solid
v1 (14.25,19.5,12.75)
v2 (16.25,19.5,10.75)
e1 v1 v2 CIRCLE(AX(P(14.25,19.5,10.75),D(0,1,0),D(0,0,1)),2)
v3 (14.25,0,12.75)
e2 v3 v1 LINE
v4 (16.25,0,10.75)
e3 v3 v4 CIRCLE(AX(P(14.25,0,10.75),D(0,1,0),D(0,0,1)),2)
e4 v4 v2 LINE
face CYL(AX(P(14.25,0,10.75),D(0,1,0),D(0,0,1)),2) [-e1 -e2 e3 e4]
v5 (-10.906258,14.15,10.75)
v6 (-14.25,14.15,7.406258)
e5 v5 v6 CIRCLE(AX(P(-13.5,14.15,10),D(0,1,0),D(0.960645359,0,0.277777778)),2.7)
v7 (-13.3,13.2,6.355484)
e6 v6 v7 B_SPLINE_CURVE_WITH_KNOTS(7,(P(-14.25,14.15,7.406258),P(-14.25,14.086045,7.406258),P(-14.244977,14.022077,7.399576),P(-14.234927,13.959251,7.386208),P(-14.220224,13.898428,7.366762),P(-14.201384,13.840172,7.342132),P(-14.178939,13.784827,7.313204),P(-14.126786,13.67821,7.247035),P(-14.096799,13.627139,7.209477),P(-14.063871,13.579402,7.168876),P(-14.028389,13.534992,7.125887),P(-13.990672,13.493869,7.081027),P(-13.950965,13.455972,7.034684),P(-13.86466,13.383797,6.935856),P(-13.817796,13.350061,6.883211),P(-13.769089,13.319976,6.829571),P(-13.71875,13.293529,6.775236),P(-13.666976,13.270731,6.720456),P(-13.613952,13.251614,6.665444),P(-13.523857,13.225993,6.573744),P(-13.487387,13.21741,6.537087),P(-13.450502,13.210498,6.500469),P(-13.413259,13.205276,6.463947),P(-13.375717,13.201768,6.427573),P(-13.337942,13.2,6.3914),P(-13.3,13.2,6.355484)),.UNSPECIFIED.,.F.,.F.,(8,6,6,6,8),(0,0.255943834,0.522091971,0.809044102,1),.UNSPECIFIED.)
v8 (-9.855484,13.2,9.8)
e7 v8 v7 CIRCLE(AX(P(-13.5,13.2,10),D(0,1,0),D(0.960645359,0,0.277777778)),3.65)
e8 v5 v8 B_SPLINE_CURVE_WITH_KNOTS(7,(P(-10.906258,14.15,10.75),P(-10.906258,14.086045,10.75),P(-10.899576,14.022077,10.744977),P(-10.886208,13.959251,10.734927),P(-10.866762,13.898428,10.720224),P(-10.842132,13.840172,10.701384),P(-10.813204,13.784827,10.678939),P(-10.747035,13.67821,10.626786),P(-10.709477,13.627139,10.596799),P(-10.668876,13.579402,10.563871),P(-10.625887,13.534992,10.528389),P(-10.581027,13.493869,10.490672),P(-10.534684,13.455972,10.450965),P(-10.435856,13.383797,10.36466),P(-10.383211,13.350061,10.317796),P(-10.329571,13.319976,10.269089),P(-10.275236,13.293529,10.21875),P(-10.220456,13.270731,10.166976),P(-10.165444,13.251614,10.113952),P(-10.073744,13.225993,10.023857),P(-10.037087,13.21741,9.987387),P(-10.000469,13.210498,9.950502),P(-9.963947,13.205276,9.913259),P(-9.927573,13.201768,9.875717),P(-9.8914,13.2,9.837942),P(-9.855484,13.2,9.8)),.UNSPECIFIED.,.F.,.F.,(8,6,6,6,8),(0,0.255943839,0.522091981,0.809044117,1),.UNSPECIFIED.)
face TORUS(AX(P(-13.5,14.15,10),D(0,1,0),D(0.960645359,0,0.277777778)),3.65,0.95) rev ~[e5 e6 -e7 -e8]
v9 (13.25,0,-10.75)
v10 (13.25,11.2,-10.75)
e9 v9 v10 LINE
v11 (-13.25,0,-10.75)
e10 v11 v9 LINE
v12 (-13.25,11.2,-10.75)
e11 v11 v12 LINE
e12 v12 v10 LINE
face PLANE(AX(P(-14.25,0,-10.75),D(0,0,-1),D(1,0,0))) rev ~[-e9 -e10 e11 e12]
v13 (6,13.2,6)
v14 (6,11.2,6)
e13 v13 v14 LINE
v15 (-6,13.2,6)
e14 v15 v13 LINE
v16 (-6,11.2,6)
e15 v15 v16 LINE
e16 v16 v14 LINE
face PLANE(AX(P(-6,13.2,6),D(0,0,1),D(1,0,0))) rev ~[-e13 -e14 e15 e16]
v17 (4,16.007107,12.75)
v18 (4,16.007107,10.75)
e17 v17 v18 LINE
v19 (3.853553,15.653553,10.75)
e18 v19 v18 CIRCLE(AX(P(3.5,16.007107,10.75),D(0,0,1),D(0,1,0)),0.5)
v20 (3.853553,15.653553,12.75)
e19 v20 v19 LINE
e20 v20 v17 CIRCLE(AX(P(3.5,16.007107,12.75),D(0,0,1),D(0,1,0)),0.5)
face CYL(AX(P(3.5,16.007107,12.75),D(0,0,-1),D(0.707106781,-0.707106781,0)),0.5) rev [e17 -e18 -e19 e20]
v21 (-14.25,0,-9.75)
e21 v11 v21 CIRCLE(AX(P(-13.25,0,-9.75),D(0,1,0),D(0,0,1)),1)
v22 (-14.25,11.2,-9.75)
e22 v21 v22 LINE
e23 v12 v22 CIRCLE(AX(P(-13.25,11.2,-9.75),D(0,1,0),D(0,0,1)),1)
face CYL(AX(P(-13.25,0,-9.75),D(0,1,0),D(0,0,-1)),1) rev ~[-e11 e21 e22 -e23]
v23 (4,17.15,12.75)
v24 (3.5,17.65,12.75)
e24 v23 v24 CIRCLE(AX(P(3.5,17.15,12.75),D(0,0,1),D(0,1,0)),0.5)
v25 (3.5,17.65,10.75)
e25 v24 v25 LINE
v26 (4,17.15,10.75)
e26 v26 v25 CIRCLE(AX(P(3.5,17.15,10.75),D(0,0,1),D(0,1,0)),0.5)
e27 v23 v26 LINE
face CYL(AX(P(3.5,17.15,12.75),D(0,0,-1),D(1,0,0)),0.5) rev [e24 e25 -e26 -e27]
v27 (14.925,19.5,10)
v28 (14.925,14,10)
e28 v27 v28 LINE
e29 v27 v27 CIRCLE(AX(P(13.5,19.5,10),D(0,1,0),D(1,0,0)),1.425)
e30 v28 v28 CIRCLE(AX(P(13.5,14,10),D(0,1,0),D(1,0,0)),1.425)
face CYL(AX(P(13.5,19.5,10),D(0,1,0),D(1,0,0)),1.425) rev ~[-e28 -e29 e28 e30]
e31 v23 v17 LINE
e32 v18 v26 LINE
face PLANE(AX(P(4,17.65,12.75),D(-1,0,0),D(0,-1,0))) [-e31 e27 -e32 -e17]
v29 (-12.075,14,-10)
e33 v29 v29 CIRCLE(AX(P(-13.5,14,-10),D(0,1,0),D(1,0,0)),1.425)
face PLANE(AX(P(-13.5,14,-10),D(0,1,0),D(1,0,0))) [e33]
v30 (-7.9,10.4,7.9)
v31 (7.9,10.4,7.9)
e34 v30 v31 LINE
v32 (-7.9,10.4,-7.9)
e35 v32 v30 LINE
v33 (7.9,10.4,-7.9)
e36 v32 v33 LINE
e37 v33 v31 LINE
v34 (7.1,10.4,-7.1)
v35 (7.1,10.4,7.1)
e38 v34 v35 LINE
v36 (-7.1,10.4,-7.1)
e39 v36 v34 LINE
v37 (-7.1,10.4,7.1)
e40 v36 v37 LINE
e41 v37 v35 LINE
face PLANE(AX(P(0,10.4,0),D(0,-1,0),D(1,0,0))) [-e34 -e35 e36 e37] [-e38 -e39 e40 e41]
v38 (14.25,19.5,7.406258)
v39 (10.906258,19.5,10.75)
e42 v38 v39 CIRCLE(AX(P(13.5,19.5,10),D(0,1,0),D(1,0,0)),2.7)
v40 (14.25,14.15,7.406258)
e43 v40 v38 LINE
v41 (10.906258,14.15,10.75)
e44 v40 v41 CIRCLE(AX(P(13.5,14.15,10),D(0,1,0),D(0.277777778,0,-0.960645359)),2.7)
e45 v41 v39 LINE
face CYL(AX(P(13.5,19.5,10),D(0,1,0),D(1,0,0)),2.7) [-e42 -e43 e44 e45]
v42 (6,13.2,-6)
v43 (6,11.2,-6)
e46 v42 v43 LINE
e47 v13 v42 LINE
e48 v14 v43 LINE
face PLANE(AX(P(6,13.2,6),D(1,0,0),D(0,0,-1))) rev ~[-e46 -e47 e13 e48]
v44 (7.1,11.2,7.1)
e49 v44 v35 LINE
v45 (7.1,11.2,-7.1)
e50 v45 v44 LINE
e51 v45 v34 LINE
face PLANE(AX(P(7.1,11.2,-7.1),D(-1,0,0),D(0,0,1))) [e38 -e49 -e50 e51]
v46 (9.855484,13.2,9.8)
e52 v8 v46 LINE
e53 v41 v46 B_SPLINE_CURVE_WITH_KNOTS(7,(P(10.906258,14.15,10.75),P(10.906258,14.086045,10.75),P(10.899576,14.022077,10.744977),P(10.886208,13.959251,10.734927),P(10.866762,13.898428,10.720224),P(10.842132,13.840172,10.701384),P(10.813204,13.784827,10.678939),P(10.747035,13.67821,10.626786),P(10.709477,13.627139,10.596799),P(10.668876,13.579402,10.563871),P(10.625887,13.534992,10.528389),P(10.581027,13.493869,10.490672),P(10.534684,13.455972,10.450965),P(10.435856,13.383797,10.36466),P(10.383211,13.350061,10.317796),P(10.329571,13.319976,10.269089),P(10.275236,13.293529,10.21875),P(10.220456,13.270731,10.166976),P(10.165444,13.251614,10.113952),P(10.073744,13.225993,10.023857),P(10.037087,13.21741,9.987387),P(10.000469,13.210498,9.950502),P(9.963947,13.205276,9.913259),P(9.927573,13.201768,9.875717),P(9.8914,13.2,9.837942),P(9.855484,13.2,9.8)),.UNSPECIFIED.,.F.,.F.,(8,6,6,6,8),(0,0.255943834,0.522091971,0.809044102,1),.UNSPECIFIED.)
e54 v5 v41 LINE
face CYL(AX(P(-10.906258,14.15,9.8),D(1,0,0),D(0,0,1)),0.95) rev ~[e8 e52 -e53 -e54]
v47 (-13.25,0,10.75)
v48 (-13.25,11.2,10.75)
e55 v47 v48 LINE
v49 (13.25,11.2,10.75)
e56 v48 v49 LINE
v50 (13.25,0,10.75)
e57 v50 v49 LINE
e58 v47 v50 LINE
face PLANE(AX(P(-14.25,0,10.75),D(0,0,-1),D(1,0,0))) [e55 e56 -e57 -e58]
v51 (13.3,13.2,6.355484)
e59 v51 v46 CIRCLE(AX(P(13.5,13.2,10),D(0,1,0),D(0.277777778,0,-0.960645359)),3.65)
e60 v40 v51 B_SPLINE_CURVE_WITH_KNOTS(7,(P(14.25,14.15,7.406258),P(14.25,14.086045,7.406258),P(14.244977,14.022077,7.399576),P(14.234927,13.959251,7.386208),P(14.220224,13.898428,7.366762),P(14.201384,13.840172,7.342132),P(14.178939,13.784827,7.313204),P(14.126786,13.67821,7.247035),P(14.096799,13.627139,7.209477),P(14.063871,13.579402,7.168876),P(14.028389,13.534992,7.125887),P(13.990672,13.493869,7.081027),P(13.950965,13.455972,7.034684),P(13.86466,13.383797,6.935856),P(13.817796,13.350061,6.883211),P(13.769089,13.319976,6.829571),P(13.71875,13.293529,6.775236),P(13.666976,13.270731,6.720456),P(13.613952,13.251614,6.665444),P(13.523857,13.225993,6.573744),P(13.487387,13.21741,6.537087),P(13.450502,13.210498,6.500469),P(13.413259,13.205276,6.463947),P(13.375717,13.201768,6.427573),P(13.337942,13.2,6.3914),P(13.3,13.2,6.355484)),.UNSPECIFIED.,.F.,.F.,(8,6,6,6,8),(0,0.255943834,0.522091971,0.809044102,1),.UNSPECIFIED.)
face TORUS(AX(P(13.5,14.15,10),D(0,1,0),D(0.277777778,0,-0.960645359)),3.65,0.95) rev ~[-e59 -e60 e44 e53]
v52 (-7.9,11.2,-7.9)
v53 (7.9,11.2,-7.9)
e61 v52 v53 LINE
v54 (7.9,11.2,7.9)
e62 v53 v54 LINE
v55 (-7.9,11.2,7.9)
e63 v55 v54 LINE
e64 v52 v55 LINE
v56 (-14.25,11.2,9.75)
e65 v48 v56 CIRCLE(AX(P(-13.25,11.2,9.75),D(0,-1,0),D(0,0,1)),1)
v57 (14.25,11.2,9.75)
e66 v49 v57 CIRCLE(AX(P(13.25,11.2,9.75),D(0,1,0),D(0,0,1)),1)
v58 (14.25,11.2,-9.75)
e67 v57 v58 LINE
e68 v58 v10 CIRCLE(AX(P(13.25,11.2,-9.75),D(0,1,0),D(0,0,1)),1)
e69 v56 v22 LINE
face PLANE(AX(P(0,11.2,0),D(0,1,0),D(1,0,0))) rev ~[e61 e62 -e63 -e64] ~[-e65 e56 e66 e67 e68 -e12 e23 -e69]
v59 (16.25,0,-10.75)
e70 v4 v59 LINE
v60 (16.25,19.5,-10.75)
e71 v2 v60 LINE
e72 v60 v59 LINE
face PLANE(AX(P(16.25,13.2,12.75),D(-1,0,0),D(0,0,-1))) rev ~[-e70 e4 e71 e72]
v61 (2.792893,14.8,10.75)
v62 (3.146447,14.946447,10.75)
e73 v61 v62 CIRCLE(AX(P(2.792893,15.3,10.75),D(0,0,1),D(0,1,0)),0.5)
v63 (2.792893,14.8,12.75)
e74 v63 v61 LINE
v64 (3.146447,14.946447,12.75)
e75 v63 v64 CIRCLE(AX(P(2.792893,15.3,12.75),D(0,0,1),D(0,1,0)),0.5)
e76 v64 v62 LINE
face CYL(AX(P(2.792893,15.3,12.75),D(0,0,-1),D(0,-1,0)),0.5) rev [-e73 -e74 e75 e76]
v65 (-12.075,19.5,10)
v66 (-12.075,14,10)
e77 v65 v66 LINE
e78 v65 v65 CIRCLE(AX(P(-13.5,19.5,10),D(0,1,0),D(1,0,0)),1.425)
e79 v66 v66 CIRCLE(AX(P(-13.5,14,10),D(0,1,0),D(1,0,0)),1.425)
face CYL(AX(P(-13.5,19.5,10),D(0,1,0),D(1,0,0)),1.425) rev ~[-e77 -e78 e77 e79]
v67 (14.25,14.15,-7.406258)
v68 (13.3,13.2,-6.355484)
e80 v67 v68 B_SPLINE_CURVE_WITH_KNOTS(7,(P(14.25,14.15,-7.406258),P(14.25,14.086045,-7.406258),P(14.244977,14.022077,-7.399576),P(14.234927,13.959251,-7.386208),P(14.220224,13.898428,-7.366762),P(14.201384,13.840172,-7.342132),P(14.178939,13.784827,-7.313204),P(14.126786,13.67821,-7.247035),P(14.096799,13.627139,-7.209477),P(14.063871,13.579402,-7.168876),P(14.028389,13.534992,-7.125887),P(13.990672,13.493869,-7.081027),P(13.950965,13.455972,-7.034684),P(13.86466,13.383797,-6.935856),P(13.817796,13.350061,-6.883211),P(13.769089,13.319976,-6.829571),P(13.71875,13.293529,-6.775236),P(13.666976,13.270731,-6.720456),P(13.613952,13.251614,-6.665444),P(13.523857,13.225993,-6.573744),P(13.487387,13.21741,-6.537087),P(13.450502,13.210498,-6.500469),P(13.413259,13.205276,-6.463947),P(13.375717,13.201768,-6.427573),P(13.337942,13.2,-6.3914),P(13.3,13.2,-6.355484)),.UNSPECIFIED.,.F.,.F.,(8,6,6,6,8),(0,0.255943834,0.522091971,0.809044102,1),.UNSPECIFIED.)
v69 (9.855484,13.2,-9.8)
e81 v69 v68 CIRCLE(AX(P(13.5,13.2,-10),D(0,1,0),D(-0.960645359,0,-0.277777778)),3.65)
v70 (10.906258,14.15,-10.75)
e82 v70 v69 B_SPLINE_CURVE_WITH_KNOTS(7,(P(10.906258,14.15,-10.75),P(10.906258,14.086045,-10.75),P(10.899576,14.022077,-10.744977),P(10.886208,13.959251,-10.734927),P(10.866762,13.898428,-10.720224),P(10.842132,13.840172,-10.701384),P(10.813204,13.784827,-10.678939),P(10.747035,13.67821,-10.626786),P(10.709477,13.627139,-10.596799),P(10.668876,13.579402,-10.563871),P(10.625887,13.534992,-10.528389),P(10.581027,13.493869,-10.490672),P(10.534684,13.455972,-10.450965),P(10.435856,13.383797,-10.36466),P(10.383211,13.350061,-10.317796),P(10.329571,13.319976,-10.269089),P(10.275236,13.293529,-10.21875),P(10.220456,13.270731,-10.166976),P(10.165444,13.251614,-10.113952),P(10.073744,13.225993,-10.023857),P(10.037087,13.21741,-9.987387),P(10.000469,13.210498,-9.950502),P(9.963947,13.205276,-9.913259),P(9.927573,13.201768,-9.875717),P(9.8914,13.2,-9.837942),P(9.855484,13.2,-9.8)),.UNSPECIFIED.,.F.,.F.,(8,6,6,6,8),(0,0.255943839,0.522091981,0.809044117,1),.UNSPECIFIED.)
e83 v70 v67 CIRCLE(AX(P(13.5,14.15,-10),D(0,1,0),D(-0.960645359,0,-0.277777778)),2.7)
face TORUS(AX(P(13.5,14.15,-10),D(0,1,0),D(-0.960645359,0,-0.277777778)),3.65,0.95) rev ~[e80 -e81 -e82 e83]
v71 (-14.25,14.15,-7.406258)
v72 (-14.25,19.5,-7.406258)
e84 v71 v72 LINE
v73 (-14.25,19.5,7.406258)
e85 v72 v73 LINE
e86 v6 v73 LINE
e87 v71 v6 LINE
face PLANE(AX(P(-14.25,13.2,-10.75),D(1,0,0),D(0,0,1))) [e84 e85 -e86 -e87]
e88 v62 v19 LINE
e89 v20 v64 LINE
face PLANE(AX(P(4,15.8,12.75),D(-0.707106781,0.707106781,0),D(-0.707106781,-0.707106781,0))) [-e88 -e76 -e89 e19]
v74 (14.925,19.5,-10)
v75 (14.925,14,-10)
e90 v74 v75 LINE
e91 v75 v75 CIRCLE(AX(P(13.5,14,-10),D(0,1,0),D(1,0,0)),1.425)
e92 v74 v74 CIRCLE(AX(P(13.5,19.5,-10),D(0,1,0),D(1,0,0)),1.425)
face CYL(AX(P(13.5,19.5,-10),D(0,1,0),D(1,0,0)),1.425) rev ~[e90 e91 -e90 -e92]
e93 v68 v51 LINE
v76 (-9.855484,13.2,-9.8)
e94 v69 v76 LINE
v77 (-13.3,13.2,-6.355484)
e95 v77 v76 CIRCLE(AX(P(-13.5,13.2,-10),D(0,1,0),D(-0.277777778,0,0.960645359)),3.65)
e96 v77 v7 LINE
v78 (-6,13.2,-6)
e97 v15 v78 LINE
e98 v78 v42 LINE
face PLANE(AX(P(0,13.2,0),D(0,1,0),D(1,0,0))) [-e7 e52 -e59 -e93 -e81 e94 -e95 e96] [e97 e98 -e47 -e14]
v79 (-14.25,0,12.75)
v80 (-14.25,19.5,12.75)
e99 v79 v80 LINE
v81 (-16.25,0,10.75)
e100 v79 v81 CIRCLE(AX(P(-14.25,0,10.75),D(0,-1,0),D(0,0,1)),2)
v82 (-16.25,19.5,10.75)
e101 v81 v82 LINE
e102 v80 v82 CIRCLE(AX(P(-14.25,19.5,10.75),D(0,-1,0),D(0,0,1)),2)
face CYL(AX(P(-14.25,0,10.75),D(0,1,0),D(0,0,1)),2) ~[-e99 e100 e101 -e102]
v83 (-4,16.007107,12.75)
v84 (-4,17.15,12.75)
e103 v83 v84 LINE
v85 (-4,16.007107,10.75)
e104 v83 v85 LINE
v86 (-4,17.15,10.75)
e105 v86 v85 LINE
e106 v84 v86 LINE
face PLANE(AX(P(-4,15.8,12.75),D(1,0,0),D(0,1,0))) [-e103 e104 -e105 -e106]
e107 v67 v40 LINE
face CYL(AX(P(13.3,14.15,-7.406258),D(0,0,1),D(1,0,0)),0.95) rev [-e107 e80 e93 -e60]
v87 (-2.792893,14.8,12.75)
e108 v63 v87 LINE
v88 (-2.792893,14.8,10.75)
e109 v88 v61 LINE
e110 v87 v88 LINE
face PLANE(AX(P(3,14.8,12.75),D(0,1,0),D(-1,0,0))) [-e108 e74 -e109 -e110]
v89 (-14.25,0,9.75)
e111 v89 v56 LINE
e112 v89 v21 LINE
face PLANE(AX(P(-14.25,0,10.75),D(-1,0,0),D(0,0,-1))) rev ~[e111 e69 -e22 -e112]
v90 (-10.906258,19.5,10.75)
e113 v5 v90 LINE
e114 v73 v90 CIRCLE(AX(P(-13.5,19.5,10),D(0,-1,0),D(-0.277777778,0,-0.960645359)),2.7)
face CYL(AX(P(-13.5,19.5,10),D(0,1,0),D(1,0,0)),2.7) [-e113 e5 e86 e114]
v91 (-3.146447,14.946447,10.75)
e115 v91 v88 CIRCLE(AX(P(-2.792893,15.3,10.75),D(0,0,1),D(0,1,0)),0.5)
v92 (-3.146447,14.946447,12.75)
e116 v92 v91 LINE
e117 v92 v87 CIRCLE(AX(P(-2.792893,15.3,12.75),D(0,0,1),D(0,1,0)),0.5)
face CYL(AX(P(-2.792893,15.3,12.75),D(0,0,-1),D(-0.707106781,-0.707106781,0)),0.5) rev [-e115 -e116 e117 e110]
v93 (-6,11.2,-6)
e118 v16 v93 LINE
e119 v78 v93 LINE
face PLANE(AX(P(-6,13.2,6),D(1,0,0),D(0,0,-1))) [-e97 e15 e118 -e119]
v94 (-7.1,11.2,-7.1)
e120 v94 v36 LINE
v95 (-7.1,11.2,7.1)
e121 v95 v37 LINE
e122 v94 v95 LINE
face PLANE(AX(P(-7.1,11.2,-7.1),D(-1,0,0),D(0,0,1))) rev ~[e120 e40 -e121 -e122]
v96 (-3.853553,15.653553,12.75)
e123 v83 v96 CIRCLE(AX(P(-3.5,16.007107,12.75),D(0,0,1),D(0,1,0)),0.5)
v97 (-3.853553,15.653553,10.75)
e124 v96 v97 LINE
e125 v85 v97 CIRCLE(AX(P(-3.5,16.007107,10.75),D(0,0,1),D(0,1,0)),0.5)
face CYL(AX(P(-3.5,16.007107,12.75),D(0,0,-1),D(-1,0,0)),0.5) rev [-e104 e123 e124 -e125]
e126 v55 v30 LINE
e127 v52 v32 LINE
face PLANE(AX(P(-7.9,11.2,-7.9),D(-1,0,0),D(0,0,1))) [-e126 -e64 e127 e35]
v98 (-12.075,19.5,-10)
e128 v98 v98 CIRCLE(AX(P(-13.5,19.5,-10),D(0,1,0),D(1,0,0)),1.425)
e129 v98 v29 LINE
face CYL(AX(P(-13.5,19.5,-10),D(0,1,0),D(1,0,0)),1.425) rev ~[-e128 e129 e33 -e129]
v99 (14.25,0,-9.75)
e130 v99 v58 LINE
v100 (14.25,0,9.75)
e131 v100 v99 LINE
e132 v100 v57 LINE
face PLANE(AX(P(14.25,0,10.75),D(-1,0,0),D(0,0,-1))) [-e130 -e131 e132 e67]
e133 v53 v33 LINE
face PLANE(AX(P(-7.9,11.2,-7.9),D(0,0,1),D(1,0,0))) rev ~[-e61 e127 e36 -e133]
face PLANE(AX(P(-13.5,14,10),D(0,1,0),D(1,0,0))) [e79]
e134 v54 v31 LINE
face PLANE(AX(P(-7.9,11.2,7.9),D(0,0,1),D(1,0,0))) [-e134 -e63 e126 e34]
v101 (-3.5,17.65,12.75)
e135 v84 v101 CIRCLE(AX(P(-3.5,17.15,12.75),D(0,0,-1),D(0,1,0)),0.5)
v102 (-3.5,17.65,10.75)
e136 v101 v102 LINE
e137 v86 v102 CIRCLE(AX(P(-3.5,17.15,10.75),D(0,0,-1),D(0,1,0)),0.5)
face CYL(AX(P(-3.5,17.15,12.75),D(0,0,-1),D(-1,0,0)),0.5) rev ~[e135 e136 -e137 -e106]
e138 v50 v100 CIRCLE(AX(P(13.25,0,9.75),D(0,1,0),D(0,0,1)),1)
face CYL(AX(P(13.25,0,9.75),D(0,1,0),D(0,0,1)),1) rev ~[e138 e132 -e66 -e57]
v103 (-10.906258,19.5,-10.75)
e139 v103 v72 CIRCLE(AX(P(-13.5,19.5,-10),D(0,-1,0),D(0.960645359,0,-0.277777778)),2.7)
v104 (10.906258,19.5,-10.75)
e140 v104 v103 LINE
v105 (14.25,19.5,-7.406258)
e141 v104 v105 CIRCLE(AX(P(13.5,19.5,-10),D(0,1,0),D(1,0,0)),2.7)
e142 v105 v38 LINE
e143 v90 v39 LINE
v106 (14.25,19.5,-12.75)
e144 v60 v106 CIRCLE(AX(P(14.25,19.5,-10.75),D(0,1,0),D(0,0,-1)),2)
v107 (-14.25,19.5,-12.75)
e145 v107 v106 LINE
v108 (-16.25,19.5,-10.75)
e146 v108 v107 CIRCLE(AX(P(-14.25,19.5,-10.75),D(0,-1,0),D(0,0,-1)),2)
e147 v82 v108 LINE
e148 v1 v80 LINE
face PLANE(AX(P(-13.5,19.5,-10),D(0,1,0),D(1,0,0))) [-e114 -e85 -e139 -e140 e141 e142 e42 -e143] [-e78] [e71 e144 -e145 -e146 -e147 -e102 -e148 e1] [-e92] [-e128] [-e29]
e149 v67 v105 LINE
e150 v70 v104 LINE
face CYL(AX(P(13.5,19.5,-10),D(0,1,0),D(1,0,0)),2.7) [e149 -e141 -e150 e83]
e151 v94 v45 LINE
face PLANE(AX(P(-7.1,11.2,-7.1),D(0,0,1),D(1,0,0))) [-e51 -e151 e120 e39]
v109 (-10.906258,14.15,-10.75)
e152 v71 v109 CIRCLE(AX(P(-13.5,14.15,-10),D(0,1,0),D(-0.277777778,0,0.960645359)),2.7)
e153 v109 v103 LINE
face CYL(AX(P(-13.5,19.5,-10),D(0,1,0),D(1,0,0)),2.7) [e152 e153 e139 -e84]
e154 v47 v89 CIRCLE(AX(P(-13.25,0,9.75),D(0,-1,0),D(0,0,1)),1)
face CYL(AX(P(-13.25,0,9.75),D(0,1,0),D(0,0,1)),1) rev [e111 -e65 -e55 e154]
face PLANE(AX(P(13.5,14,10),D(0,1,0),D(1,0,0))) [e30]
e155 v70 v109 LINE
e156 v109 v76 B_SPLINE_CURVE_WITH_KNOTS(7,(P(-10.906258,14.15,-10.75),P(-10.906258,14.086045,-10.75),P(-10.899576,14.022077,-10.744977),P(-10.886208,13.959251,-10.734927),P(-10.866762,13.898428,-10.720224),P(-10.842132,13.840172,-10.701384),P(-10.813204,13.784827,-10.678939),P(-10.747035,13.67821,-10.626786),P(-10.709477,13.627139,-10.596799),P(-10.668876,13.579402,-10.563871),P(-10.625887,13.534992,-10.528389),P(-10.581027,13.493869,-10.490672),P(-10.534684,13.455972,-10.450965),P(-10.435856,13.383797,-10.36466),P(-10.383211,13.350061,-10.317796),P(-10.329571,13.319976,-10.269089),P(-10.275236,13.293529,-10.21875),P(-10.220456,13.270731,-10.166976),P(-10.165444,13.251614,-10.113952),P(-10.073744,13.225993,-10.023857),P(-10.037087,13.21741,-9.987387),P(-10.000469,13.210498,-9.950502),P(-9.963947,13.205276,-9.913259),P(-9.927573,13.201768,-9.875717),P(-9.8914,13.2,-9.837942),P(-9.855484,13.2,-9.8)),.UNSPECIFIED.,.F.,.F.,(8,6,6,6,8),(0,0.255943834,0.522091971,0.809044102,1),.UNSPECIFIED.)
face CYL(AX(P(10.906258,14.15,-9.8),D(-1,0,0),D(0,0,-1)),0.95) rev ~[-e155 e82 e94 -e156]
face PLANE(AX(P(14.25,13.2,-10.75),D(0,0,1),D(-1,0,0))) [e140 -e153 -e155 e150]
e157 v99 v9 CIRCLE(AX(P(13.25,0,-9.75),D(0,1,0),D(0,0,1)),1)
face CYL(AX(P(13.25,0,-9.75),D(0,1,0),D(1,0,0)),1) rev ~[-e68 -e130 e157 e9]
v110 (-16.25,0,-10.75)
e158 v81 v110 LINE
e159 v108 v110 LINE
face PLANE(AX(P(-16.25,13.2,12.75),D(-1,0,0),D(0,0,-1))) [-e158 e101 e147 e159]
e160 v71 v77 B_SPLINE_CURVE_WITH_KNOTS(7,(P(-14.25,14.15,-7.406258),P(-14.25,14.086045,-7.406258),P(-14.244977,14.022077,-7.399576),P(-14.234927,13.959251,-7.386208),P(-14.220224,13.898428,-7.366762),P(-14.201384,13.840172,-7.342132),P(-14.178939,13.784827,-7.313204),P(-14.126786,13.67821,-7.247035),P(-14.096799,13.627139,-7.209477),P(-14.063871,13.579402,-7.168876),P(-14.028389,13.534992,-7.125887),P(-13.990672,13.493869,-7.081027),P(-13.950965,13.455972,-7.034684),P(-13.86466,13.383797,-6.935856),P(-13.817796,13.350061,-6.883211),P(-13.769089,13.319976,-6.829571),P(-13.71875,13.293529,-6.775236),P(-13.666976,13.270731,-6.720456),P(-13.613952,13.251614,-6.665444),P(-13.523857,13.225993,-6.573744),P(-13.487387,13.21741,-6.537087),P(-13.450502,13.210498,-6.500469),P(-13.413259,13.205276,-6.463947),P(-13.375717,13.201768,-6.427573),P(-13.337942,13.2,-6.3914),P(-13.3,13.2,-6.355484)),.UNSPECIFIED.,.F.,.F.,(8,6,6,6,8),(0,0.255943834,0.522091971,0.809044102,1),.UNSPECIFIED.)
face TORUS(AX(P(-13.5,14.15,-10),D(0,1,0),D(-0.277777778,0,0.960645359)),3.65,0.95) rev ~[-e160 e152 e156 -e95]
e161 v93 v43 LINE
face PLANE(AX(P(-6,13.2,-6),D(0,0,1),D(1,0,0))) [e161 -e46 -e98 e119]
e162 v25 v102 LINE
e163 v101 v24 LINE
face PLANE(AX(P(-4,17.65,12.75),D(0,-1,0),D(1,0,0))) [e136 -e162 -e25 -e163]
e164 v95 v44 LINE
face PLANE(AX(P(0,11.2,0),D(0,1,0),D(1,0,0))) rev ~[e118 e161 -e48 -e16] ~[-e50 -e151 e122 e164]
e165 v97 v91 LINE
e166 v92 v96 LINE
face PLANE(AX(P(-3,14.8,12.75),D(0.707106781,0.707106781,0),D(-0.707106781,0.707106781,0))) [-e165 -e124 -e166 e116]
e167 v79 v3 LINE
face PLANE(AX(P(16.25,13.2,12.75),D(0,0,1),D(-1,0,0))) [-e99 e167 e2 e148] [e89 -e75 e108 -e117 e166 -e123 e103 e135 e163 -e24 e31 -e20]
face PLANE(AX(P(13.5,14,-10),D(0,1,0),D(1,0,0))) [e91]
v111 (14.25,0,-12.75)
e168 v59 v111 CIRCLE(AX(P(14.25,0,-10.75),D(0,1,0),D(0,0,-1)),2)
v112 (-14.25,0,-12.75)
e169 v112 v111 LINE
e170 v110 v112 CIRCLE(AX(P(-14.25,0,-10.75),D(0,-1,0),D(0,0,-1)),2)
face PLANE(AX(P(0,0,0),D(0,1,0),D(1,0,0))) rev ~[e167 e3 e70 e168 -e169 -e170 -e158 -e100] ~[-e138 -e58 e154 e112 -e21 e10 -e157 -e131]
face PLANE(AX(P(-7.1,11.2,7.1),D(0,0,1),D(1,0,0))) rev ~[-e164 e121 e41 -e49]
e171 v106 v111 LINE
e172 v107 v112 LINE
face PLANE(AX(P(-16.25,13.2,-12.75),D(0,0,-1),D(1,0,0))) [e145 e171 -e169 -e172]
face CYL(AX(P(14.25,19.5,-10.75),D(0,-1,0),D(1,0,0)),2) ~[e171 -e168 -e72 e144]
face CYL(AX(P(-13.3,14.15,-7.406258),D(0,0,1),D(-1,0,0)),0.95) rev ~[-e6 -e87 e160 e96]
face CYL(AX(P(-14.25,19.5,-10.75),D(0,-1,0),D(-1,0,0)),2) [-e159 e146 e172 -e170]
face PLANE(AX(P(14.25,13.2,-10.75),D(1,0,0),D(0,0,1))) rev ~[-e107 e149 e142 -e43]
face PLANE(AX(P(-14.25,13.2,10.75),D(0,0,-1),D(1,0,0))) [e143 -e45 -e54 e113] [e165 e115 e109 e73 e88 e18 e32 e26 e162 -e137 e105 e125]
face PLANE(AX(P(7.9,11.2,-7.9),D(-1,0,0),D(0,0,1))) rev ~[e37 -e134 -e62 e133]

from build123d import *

# Parameters (mm, degrees)
SKETCH_1_W          = 32.5
SKETCH_1_H          = 25.5
SKETCH_1_W_2        = 28.5
SKETCH_1_H_2        = 21.5
EXTRUDE_1_DEPTH     = 13.2
SKETCH_2_W          = 28.5
SKETCH_2_H          = 21.5
SKETCH_2_W_2        = 12
SKETCH_2_H_2        = 12
EXTRUDE_2_DEPTH     = 2
EXTRUDE_3_DEPTH     = 6.3
EXTRUDE_4_REACH     = 21.5
SKETCH_6_R          = 2.7
SKETCH_7_R          = 1.425
CUT_EXTRUDE_3_DEPTH = 5.5
SKETCH_10_W         = 15.8
SKETCH_10_H         = 15.8
SKETCH_10_W_2       = 14.2
SKETCH_10_H_2       = 14.2
EXTRUDE_5_DEPTH     = 0.8
CUT_EXTRUDE_5_DEPTH = 3
FILLET_6_R          = 0.5
FILLET_3_R          = 0.95
FILLET_1_R          = 2
FILLET_2_R          = 1


with BuildPart() as part:
    # 草图1 → 凸台-拉伸1 (new body)
    with BuildSketch(Plane(origin=(0, 0, 0), x_dir=(1, 0, 0), z_dir=(0, 1, 0))):
        Rectangle(SKETCH_1_W, SKETCH_1_H)
        Rectangle(SKETCH_1_W_2, SKETCH_1_H_2, mode=Mode.SUBTRACT)
    extrude(amount=EXTRUDE_1_DEPTH)

    # 草图2 → 凸台-拉伸2 (add)
    with BuildSketch(Plane(origin=(0, 13.2, 0), x_dir=(1, 0, 0), z_dir=(0, 1, 0))):
        Rectangle(SKETCH_2_W, SKETCH_2_H)
        Rectangle(SKETCH_2_W_2, SKETCH_2_H_2, mode=Mode.SUBTRACT)
    extrude(amount=-EXTRUDE_2_DEPTH)

    # 草图3 → 凸台-拉伸3 (add)
    with BuildSketch(Plane(origin=(0, 13.2, 0), x_dir=(1, 0, 0), z_dir=(0, 1, 0))):
        Polygon((-16.25, -12.75), (-16.25, 12.75), (16.25, 12.75), (16.25, -0.040360215), (16.25, -12.75), align=None)
        Polygon((14.25, 0.013681835), (14.25, 10.75), (-14.25, 10.75), (-14.25, -10.75), (14.25, -10.75), align=None, mode=Mode.SUBTRACT)
    extrude(amount=EXTRUDE_3_DEPTH)

    # 草图6 → 凸台-拉伸4 (add, up to next)
    with BuildSketch(Plane(origin=(0, 19.5, 0), x_dir=(1, 0, 0), z_dir=(0, 1, 0)), mode=Mode.PRIVATE) as extrude_4_sk1:
        with Locations((13.5, 10)):
            Circle(SKETCH_6_R)
    extrude_4_tool1 = extrude(extrude_4_sk1.sketch, amount=-EXTRUDE_4_REACH, mode=Mode.PRIVATE) - part.part
    add(extrude_4_tool1.solids().sort_by_distance((13.5, 19.5, -10))[0])
    # 草图6 → 凸台-拉伸4 (add, up to next)
    with BuildSketch(Plane(origin=(0, 19.5, 0), x_dir=(1, 0, 0), z_dir=(0, 1, 0)), mode=Mode.PRIVATE) as extrude_4_sk2:
        with Locations((13.5, -10)):
            Circle(SKETCH_6_R)
    extrude_4_tool2 = extrude(extrude_4_sk2.sketch, amount=-EXTRUDE_4_REACH, mode=Mode.PRIVATE) - part.part
    add(extrude_4_tool2.solids().sort_by_distance((13.5, 19.5, 10))[0])
    # 草图6 → 凸台-拉伸4 (add, up to next)
    with BuildSketch(Plane(origin=(0, 19.5, 0), x_dir=(1, 0, 0), z_dir=(0, 1, 0)), mode=Mode.PRIVATE) as extrude_4_sk3:
        with Locations((-13.5, -10)):
            Circle(SKETCH_6_R)
    extrude_4_tool3 = extrude(extrude_4_sk3.sketch, amount=-EXTRUDE_4_REACH, mode=Mode.PRIVATE) - part.part
    add(extrude_4_tool3.solids().sort_by_distance((-13.5, 19.5, 10))[0])
    # 草图6 → 凸台-拉伸4 (add, up to next)
    with BuildSketch(Plane(origin=(0, 19.5, 0), x_dir=(1, 0, 0), z_dir=(0, 1, 0)), mode=Mode.PRIVATE) as extrude_4_sk4:
        with Locations((-13.5, 10)):
            Circle(SKETCH_6_R)
    extrude_4_tool4 = extrude(extrude_4_sk4.sketch, amount=-EXTRUDE_4_REACH, mode=Mode.PRIVATE) - part.part
    add(extrude_4_tool4.solids().sort_by_distance((-13.5, 19.5, -10))[0])

    # 草图7 → 切除-拉伸3 (cut)
    with BuildSketch(Plane(origin=(0, 19.5, 0), x_dir=(1, 0, 0), z_dir=(0, 1, 0))):
        with Locations((13.5, 10)):
            Circle(SKETCH_7_R)
        with Locations((13.5, -10)):
            Circle(SKETCH_7_R)
        with Locations((-13.5, -10)):
            Circle(SKETCH_7_R)
        with Locations((-13.5, 10)):
            Circle(SKETCH_7_R)
    extrude(amount=-CUT_EXTRUDE_3_DEPTH, mode=Mode.SUBTRACT)

    # 草图10 → 凸台-拉伸5 (add)
    with BuildSketch(Plane.XZ.offset(-11.2)):
        Rectangle(SKETCH_10_W, SKETCH_10_H)
        Rectangle(SKETCH_10_W_2, SKETCH_10_H_2, mode=Mode.SUBTRACT)
    extrude(amount=EXTRUDE_5_DEPTH)

    # 草图11 → 切除-拉伸5 (cut)
    with BuildSketch(Plane.XY.offset(12.75)):
        Polygon((-4, 17.65), (4, 17.65), (4, 15.8), (3, 14.8), (-3, 14.8), (-4, 15.8), align=None)
    extrude(amount=-CUT_EXTRUDE_5_DEPTH, mode=Mode.SUBTRACT)

    # 圆角6
    fillet_6_edges = [part.edges().sort_by_distance(p)[0] for p in [
        (4, 17.65, 11.75),
        (4, 15.8, 11.75),
        (3, 14.8, 11.75),
        (-3, 14.8, 11.75),
        (-4, 15.8, 11.75),
        (-4, 17.65, 11.75),
    ]]
    fillet(fillet_6_edges, radius=FILLET_6_R)

    # 圆角3
    fillet_3_edges = [part.edges().sort_by_distance(p)[0] for p in [
        (0, 13.2, 10.75),
        (-11.590811691, 13.2, 8.090811691),
        (-14.25, 13.2, 0),
        (-11.590811691, 13.2, -8.090811691),
        (0, 13.2, -10.75),
        (11.590811691, 13.2, -8.090811691),
        (14.25, 13.2, 0),
        (11.590811691, 13.2, 8.090811691),
    ]]
    fillet(fillet_3_edges, radius=FILLET_3_R)

    # 圆角1
    fillet_1_edges = [part.edges().sort_by_distance(p)[0] for p in [
        (16.25, 9.75, 12.75),
        (-16.25, 9.75, 12.75),
        (-16.25, 9.75, -12.75),
        (16.25, 9.75, -12.75),
    ]]
    fillet(fillet_1_edges, radius=FILLET_1_R)

    # 圆角2
    fillet_2_edges = [part.edges().sort_by_distance(p)[0] for p in [
        (-14.25, 5.6, 10.75),
        (14.25, 5.6, 10.75),
        (-14.25, 5.6, -10.75),
        (14.25, 5.6, -10.75),
    ]]
    fillet(fillet_2_edges, radius=FILLET_2_R)


solid = part.part
